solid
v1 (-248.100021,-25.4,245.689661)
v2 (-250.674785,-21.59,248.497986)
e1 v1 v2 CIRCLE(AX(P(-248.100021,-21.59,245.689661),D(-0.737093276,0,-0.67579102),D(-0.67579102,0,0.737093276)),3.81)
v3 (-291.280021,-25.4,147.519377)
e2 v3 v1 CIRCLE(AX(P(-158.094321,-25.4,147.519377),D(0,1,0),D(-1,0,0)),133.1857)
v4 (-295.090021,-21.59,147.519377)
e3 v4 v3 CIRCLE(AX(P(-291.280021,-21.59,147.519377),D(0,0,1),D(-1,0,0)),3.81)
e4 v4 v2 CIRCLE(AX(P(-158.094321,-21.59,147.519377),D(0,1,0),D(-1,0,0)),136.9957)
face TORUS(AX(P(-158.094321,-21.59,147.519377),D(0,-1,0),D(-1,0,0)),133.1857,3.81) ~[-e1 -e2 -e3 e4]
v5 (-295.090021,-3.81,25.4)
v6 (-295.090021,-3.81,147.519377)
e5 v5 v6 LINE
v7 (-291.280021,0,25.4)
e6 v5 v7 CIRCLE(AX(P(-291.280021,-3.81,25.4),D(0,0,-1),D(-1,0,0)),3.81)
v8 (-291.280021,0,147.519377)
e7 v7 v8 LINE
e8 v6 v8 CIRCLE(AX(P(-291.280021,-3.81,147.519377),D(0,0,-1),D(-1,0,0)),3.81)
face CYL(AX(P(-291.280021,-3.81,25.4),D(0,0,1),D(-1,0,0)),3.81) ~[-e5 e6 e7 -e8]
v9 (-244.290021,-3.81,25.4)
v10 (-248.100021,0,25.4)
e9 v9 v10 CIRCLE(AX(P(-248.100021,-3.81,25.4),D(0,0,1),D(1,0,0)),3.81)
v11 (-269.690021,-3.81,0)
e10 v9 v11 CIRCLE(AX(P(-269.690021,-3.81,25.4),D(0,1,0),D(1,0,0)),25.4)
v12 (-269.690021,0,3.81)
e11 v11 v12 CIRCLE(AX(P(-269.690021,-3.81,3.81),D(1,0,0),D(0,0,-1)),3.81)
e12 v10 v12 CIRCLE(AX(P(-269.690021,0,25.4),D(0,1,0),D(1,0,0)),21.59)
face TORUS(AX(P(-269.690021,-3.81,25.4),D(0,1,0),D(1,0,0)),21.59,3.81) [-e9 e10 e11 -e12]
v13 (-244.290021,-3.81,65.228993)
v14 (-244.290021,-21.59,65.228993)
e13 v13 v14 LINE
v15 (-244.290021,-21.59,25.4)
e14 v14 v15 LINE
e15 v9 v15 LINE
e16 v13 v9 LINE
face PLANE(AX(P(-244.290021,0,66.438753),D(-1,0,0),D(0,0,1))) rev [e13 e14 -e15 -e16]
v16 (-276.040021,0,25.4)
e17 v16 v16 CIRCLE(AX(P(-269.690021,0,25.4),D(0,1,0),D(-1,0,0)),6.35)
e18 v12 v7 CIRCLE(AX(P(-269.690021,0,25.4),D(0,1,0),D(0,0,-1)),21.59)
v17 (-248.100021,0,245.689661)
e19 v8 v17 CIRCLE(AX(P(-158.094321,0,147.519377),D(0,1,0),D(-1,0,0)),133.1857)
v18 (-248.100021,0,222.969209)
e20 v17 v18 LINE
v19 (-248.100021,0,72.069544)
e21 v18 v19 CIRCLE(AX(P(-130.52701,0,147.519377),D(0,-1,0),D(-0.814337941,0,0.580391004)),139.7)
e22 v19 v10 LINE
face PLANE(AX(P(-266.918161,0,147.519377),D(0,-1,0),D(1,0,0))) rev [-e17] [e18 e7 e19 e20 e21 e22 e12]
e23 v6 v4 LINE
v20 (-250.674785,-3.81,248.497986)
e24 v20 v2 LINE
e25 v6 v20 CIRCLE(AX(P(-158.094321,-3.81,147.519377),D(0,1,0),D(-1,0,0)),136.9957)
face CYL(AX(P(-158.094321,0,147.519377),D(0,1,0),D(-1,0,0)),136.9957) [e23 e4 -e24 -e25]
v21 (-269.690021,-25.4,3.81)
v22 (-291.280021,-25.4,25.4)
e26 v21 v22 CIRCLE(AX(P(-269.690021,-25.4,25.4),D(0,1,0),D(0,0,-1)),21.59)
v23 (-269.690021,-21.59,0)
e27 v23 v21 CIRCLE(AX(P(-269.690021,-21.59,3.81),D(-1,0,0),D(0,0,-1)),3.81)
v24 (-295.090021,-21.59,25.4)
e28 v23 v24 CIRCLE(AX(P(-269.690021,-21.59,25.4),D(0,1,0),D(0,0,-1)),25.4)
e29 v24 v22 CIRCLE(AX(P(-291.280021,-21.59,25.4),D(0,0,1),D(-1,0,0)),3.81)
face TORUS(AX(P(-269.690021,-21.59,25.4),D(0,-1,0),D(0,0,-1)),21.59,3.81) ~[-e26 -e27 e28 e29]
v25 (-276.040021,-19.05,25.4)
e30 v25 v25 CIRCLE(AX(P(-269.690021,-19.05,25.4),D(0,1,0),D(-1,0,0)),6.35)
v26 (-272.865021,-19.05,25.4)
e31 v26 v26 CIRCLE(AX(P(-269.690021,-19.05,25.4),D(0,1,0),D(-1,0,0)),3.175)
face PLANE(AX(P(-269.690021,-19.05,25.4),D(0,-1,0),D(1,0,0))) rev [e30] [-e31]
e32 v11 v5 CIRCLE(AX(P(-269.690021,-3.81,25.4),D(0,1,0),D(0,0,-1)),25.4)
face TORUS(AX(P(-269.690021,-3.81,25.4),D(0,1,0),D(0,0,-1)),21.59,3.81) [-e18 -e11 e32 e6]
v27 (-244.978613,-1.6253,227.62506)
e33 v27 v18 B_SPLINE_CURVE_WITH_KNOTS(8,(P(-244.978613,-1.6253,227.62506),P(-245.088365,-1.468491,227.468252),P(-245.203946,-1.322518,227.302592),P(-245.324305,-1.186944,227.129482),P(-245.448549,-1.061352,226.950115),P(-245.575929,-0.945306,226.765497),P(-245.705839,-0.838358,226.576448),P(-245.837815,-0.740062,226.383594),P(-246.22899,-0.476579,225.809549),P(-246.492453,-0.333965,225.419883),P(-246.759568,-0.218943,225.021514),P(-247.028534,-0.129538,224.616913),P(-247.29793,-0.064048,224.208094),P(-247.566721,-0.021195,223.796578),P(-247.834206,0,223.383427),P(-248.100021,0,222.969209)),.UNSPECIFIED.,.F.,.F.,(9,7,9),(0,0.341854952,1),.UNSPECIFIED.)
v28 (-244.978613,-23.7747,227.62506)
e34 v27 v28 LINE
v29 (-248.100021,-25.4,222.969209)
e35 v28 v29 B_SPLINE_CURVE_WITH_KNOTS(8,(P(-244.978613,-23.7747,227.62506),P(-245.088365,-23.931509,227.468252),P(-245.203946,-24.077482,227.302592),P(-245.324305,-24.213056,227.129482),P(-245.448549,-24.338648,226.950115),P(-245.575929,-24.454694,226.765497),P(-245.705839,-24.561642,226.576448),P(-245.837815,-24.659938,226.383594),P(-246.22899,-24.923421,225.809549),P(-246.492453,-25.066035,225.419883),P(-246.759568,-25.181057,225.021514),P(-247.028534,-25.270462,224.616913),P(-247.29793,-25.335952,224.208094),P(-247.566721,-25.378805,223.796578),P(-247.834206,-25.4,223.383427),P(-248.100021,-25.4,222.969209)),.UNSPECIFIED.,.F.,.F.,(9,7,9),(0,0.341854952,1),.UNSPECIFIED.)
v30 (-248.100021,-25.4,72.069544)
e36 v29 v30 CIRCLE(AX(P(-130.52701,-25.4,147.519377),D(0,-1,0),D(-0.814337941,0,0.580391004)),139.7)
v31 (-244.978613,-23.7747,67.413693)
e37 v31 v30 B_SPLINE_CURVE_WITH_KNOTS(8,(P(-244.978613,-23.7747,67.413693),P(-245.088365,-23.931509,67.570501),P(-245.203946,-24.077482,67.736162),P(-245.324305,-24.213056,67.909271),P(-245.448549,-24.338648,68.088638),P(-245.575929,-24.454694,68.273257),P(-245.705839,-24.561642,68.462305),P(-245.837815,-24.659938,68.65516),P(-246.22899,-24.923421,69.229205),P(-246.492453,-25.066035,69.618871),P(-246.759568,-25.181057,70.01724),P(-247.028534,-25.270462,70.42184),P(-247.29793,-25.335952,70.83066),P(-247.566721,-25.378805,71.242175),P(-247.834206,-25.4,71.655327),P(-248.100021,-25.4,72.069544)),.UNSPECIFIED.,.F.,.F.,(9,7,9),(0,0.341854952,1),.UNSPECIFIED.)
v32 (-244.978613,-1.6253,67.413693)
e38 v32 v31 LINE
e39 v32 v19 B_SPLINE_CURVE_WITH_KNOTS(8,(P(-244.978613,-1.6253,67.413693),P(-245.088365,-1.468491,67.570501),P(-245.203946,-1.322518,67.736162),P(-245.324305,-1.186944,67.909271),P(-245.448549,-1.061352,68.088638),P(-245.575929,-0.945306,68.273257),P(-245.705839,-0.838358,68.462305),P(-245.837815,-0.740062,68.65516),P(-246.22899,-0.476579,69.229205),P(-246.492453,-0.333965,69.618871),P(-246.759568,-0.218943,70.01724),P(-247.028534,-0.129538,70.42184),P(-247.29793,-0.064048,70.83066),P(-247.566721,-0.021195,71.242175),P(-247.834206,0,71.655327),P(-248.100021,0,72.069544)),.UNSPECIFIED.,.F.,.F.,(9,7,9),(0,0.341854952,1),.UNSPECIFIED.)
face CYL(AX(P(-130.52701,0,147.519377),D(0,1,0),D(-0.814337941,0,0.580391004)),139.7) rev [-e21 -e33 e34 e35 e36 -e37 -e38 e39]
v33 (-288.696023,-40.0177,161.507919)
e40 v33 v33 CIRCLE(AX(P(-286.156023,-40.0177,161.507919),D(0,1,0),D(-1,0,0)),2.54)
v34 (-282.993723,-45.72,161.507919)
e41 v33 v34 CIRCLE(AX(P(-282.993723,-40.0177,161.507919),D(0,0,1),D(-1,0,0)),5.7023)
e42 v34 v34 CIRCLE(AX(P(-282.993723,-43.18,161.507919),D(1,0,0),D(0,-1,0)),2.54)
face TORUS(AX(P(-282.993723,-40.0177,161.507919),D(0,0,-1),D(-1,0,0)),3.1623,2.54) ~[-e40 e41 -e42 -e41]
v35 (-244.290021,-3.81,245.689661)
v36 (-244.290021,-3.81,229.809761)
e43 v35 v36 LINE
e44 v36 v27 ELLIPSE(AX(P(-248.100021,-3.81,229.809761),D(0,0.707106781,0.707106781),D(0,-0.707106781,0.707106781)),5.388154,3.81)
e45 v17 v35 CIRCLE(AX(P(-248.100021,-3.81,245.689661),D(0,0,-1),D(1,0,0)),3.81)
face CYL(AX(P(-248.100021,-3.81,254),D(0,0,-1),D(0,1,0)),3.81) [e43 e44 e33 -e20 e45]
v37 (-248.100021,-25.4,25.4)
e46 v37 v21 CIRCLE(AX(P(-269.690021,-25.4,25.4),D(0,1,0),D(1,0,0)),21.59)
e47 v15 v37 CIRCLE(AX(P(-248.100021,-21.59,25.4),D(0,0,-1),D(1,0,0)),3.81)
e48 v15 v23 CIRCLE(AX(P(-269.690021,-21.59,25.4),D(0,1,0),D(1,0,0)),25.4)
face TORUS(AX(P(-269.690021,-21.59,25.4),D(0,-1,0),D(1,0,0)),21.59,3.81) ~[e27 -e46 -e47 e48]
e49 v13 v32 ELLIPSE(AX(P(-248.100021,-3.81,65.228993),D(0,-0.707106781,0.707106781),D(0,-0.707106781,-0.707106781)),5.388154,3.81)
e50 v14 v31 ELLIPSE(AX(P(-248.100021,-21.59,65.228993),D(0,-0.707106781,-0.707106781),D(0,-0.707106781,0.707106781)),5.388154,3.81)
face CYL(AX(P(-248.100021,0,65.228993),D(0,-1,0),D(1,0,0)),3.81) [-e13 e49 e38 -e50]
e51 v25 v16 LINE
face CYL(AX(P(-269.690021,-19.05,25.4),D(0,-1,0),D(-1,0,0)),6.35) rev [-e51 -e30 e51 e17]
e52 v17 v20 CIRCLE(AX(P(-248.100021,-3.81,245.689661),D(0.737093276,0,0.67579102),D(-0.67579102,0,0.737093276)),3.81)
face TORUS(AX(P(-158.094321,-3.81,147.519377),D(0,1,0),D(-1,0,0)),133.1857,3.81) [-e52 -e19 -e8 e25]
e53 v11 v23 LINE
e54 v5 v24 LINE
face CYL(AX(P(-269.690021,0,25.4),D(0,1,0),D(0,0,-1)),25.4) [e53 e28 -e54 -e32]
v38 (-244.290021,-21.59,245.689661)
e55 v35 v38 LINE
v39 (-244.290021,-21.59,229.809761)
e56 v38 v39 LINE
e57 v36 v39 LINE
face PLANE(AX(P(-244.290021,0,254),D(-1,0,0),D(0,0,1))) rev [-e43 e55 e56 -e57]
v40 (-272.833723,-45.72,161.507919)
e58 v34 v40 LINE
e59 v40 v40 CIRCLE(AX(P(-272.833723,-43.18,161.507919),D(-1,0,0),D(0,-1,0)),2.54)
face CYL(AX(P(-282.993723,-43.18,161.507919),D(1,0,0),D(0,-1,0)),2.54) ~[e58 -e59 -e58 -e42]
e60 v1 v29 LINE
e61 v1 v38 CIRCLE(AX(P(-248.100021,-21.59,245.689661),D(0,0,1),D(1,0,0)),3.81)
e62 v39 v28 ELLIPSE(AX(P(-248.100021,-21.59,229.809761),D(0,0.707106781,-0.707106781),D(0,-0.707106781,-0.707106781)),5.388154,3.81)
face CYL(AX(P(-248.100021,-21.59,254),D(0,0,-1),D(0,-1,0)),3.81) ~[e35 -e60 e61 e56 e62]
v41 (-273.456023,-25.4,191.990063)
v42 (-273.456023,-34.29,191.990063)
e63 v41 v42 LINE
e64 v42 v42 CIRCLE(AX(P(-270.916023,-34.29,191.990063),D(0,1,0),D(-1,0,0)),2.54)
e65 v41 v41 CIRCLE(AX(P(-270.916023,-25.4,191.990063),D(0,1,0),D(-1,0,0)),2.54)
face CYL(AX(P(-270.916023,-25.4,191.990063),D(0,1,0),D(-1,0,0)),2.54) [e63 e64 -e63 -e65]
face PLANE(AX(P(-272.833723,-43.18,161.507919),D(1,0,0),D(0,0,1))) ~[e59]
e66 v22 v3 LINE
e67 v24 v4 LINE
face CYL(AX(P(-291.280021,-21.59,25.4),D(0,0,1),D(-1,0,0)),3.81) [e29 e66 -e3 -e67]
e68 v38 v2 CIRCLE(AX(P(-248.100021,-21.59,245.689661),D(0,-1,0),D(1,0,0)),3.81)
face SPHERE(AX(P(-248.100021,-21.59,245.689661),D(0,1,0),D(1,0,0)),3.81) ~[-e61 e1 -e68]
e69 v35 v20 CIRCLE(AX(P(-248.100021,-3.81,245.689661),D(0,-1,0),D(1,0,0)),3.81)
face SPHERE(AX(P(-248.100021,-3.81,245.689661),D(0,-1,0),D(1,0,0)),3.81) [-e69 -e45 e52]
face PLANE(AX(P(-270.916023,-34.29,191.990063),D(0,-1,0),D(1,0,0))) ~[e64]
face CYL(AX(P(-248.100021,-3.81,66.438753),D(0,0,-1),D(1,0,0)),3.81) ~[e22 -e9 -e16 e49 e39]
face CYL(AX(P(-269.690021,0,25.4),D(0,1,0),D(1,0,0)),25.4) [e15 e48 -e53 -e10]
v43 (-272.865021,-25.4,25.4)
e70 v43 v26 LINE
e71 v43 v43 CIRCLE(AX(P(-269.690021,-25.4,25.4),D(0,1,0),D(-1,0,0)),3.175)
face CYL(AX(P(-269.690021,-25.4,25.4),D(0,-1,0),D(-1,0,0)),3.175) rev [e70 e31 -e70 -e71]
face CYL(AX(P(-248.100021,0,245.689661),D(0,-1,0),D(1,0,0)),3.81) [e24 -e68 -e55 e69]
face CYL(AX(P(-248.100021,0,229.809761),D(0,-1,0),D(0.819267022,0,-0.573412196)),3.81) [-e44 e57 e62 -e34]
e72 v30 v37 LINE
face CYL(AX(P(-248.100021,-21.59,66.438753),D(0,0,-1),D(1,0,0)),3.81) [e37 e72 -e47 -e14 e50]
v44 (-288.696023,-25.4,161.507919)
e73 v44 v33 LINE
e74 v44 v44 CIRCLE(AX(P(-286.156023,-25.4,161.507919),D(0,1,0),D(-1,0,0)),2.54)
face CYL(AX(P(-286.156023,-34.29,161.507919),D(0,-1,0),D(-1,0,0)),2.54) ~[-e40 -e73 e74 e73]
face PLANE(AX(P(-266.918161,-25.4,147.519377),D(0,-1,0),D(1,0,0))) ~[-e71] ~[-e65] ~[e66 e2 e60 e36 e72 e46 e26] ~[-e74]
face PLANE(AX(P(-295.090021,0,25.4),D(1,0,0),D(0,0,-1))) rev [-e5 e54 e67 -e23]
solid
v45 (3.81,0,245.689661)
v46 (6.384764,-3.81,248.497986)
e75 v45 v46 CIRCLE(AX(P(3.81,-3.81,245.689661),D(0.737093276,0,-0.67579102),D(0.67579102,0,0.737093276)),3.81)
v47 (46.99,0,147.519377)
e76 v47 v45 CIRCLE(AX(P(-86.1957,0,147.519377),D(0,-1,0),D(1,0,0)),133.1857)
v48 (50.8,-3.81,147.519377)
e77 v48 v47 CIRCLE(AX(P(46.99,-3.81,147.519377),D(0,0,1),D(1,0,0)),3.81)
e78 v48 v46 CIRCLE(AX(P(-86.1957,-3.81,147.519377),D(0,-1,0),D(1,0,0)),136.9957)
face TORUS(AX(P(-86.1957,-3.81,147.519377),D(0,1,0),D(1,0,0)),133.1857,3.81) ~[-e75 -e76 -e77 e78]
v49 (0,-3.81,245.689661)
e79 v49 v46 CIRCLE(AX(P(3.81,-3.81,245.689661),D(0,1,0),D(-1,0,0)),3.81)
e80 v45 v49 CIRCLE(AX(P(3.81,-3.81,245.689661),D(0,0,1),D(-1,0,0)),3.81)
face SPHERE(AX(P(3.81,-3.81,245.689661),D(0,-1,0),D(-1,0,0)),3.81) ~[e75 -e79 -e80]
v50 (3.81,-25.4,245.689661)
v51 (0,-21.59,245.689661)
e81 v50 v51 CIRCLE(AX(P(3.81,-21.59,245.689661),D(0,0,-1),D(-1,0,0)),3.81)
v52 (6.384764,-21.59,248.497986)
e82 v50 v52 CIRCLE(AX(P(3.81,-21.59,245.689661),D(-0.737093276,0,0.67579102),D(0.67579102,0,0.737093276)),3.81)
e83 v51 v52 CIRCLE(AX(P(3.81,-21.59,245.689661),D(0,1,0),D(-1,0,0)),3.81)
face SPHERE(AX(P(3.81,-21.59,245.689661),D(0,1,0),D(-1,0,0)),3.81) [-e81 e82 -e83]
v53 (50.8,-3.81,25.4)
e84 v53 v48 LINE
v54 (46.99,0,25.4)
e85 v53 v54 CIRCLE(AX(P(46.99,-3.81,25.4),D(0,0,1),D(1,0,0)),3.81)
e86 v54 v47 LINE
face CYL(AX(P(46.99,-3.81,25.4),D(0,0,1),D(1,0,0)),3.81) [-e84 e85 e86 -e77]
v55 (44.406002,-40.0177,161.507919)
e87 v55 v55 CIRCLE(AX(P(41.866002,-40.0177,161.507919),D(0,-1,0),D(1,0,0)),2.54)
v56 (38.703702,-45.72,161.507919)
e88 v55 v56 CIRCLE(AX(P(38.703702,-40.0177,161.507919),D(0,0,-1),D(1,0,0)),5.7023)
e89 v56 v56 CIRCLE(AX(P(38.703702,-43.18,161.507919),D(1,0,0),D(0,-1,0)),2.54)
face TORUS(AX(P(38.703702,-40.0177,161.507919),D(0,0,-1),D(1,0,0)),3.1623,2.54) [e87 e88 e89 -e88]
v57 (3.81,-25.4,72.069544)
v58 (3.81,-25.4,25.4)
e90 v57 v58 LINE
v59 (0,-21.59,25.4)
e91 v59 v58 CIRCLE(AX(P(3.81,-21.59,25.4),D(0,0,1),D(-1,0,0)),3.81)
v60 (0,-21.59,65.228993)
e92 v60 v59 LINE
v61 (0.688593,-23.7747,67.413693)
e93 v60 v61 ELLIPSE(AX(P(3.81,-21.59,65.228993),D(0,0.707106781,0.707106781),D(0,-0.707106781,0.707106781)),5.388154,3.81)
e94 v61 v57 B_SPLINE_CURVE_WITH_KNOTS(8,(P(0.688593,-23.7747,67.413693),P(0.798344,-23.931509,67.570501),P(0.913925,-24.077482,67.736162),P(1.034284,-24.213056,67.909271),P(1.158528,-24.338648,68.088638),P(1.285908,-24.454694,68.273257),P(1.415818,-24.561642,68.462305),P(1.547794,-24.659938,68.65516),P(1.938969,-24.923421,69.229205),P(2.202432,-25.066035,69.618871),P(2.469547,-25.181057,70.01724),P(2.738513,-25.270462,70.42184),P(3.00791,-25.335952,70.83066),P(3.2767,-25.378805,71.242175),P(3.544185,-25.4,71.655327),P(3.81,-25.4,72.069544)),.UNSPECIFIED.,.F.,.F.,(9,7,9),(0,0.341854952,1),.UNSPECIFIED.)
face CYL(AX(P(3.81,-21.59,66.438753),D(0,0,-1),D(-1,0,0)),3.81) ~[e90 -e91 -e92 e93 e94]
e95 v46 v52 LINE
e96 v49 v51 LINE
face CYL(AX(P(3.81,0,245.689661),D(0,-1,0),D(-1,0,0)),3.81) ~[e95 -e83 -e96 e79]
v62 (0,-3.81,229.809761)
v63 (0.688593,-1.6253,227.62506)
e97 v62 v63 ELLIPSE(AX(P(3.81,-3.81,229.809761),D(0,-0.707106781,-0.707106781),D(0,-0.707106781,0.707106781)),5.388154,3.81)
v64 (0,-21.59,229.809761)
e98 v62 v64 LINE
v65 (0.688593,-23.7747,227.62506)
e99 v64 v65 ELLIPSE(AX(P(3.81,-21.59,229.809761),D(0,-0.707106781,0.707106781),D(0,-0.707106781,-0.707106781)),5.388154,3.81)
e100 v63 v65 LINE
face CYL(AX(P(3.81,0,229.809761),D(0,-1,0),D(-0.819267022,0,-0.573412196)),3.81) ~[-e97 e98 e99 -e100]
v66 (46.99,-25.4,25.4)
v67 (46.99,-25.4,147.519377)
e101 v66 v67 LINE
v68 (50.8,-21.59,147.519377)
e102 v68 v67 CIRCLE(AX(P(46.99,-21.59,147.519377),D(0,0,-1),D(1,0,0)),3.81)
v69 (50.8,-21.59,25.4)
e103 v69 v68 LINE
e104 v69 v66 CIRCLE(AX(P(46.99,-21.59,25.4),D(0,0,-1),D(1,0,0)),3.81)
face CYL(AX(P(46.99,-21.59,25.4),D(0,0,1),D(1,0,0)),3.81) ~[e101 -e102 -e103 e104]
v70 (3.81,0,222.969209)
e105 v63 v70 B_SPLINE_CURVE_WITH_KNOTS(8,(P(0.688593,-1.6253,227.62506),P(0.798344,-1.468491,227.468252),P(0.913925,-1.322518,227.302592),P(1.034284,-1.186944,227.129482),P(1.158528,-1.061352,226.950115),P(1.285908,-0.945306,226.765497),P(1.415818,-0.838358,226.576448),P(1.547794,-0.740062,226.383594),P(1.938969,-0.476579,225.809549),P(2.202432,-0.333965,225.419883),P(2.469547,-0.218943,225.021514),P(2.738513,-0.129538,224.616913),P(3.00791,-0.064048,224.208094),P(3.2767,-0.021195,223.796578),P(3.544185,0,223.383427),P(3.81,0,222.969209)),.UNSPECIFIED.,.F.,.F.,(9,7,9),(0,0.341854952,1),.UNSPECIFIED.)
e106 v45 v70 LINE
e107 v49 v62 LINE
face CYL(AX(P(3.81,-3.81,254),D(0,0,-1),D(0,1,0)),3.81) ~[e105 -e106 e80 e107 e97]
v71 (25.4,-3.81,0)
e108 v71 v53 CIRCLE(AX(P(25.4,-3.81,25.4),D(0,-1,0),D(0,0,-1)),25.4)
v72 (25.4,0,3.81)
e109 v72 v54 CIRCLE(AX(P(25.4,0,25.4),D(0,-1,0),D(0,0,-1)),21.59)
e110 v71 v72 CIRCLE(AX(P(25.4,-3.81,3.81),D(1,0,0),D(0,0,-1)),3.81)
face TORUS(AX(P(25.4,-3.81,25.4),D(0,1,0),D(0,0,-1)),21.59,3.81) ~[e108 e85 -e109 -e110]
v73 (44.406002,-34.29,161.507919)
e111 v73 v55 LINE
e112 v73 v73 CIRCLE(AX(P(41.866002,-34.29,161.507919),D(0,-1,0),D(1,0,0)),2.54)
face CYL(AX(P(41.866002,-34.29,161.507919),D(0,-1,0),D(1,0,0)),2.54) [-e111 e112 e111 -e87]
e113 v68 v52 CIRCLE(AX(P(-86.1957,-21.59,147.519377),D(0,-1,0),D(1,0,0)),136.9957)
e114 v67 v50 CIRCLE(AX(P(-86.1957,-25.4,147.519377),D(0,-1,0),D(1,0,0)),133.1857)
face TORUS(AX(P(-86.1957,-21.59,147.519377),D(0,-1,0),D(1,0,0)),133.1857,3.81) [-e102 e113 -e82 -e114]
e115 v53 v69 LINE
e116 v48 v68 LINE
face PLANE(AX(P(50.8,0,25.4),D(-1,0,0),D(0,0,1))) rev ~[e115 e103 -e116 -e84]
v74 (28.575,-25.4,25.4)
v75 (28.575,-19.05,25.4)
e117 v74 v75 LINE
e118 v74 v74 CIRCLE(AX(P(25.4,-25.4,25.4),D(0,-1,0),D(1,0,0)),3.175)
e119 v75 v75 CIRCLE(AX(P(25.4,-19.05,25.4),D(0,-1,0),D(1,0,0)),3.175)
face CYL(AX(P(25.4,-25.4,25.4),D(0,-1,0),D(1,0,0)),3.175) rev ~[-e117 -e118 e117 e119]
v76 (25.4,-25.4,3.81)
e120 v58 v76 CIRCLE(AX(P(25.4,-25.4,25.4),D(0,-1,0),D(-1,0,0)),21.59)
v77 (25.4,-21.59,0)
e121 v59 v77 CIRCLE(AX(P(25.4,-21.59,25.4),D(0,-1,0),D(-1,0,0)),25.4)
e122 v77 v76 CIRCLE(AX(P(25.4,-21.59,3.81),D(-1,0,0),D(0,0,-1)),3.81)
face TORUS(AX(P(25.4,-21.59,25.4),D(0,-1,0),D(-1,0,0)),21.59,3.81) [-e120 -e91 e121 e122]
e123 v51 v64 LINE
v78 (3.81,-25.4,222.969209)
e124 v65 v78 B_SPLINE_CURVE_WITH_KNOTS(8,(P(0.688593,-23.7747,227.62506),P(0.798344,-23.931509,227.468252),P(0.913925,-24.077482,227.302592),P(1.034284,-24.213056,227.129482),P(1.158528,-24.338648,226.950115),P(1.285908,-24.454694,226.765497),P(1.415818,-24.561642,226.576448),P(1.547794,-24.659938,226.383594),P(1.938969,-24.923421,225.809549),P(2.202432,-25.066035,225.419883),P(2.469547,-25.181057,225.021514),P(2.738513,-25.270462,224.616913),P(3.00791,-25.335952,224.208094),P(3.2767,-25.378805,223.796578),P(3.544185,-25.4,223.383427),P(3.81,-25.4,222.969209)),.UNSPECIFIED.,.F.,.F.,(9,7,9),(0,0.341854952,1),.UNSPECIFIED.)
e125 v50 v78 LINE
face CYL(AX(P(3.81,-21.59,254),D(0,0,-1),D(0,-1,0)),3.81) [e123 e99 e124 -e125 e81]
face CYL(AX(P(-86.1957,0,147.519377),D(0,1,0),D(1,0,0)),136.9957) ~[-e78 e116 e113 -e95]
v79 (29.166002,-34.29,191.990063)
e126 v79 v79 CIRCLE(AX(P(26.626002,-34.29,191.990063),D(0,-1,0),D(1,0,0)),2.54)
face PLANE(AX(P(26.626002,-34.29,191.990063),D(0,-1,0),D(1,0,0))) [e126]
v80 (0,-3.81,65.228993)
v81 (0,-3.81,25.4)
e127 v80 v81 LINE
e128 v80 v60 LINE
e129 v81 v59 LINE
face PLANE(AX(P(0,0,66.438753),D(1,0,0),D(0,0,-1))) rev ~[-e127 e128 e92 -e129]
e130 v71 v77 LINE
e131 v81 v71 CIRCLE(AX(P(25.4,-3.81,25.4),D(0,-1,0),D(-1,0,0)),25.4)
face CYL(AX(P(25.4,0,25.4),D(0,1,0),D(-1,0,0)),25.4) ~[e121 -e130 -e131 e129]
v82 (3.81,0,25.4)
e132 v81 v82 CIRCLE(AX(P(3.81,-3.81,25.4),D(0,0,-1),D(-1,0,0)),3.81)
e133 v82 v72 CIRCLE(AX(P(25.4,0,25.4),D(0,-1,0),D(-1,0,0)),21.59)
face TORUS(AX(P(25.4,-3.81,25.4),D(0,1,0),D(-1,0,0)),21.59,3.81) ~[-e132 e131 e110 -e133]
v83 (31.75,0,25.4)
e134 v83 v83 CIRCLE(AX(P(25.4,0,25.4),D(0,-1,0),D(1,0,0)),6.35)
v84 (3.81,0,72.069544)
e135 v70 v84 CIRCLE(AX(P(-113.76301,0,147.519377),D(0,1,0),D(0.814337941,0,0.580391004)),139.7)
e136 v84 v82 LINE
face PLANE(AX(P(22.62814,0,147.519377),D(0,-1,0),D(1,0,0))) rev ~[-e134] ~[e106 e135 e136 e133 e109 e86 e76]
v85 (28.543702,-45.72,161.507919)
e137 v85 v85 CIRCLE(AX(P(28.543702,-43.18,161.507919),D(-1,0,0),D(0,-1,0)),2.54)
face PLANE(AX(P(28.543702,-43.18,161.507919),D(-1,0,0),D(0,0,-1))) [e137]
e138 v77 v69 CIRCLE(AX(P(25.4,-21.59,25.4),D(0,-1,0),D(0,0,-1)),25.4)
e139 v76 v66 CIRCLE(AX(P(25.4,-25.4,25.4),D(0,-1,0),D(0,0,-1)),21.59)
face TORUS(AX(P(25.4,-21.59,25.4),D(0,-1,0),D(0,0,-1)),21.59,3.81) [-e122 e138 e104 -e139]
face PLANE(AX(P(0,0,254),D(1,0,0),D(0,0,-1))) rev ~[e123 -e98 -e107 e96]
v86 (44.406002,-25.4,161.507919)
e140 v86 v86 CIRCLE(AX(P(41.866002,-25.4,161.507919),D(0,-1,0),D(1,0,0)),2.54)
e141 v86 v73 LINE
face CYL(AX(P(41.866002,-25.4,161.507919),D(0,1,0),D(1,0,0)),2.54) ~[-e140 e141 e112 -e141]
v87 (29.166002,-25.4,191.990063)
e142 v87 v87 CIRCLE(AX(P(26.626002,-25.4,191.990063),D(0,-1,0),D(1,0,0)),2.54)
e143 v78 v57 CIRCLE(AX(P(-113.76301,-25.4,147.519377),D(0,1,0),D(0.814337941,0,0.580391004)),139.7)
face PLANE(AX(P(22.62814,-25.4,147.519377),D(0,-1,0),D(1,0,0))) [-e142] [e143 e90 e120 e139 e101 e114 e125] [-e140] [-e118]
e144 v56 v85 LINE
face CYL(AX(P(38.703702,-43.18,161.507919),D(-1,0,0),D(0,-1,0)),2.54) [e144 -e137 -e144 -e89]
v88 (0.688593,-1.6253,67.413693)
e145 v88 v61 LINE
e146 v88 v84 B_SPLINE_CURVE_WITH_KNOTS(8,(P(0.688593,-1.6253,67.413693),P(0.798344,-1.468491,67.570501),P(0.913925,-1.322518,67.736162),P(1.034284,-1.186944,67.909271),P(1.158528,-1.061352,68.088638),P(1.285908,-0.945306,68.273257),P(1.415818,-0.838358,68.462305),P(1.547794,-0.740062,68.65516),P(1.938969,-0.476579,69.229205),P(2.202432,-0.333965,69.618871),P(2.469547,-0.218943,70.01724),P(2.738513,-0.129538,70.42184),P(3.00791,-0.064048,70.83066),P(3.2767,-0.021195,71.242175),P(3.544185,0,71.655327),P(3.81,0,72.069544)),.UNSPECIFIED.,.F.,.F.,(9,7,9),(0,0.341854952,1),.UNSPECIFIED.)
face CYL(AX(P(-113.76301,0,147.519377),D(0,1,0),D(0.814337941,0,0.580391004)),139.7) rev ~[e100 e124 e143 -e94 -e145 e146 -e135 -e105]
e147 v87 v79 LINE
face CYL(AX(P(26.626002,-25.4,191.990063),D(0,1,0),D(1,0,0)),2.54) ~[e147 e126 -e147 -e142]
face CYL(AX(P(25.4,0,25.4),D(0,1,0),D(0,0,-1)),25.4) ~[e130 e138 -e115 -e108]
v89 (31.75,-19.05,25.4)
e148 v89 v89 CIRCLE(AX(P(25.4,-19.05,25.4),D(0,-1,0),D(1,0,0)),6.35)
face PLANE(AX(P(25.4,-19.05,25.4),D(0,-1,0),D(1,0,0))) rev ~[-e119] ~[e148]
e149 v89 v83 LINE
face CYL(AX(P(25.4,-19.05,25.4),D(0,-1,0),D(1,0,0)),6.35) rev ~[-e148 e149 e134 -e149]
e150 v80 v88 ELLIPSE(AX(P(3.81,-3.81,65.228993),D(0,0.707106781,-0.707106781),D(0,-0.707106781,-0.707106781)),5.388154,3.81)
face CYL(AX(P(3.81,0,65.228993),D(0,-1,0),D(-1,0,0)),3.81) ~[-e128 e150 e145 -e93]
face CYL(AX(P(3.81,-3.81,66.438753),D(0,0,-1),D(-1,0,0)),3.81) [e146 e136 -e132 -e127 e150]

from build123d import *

# Parameters (mm, degrees)
F1_DEPTH  = 25.4
F2_R      = 3.175
F3_DEPTH  = 6.35
F4_R      = 3.81
F5_R      = 2.54
F6_DEPTH  = 8.89
F8_R      = 2.54
F11_R     = 6.35
F12_DEPTH = 25.4


with BuildPart() as f1:
    # F0 (on Front) → F1 (new body)
    with BuildSketch(Plane.XZ):
        with BuildLine():
            Line((0, 66.4387534539), (0, 41.0387534539))
            ThreePointArc((0, 41.0387534539), (37.4494820277, 88.5304728284), (50.8, 147.5193767269))
            ThreePointArc((50.8, 147.5193767269), (37.4494820277, 206.5082806255), (0, 254))
            Line((0, 254), (0, 228.6))
            ThreePointArc((0, 228.6), (25.9369896247, 147.5193767269), (0, 66.4387534539))
        make_face()
        with BuildLine():
            ThreePointArc((0, 25.4), (7.4394877579, 7.4394877579), (25.4, 0))
            ThreePointArc((25.4, 0), (43.3605122421, 7.4394877579), (50.8, 25.4))
            Line((50.8, 25.4), (50.8, 147.5193767269))
            ThreePointArc((50.8, 147.5193767269), (37.4494820277, 88.5304728284), (0, 41.0387534539))
            Line((0, 41.0387534539), (0, 25.4))
        make_face()
    extrude(amount=F1_DEPTH)

    # F2 (on face) → F3 (cut)
    with BuildSketch(Plane.XZ.offset(25.4)):
        with Locations((25.4, 25.4)):
            Circle(F2_R)
    extrude(amount=-F3_DEPTH, mode=Mode.SUBTRACT)

    # F4
    f4_edges = [f1.edges().sort_by_distance(p)[0] for p in [
        (0, -12.7, 254),
        (0, -12.7, 228.6),
        (0, 0, 241.3),
        (0, -25.4, 241.3),
        (0, -12.7, 66.438753),
        (0, -12.7, 25.4),
        (0, 0, 45.919377),
        (0, -25.4, 45.919377),
    ]]
    fillet(f4_edges, radius=F4_R)

    # F5 (on face) → F6 (join)
    with BuildSketch(Plane.XZ.offset(25.4)):
        with Locations((26.6260020435, 191.9900625944)):
            Circle(F5_R)
        with Locations((41.8660020435, 161.5079194307)):
            Circle(F5_R)
    extrude(amount=F6_DEPTH)

    # F10: sweep along a path in F9
    with BuildLine(Plane.XY.offset(161.507932)) as f10_path:
        Line((41.8660020435, -34.29), (41.8660020435, -40.0177))
        ThreePointArc((41.8660020435, -40.0177), (40.9397858176, -42.2537837741), (38.7037020435, -43.18))
        Line((38.7037020435, -43.18), (28.5437020435, -43.18))
    # F8 (on face) → F10 (sweep)
    with BuildSketch(Plane.XZ.offset(34.29)):
        with Locations((41.8660020435, 161.5079194307)):
            Circle(F8_R)
    sweep(path=f10_path.line)

    # F11 (on face) → F12 (cut)
    with BuildSketch(Plane.XZ.offset(19.05)):
        with Locations((25.4, 25.4)):
            Circle(F11_R)
    extrude(amount=-F12_DEPTH, mode=Mode.SUBTRACT)


with BuildPart() as f15_1:
    # F15: instance of F1
    add(f1.part.mirror(Plane.YZ.offset(-122.1450103753)))


solid = Compound([f1.part, f15_1.part])
